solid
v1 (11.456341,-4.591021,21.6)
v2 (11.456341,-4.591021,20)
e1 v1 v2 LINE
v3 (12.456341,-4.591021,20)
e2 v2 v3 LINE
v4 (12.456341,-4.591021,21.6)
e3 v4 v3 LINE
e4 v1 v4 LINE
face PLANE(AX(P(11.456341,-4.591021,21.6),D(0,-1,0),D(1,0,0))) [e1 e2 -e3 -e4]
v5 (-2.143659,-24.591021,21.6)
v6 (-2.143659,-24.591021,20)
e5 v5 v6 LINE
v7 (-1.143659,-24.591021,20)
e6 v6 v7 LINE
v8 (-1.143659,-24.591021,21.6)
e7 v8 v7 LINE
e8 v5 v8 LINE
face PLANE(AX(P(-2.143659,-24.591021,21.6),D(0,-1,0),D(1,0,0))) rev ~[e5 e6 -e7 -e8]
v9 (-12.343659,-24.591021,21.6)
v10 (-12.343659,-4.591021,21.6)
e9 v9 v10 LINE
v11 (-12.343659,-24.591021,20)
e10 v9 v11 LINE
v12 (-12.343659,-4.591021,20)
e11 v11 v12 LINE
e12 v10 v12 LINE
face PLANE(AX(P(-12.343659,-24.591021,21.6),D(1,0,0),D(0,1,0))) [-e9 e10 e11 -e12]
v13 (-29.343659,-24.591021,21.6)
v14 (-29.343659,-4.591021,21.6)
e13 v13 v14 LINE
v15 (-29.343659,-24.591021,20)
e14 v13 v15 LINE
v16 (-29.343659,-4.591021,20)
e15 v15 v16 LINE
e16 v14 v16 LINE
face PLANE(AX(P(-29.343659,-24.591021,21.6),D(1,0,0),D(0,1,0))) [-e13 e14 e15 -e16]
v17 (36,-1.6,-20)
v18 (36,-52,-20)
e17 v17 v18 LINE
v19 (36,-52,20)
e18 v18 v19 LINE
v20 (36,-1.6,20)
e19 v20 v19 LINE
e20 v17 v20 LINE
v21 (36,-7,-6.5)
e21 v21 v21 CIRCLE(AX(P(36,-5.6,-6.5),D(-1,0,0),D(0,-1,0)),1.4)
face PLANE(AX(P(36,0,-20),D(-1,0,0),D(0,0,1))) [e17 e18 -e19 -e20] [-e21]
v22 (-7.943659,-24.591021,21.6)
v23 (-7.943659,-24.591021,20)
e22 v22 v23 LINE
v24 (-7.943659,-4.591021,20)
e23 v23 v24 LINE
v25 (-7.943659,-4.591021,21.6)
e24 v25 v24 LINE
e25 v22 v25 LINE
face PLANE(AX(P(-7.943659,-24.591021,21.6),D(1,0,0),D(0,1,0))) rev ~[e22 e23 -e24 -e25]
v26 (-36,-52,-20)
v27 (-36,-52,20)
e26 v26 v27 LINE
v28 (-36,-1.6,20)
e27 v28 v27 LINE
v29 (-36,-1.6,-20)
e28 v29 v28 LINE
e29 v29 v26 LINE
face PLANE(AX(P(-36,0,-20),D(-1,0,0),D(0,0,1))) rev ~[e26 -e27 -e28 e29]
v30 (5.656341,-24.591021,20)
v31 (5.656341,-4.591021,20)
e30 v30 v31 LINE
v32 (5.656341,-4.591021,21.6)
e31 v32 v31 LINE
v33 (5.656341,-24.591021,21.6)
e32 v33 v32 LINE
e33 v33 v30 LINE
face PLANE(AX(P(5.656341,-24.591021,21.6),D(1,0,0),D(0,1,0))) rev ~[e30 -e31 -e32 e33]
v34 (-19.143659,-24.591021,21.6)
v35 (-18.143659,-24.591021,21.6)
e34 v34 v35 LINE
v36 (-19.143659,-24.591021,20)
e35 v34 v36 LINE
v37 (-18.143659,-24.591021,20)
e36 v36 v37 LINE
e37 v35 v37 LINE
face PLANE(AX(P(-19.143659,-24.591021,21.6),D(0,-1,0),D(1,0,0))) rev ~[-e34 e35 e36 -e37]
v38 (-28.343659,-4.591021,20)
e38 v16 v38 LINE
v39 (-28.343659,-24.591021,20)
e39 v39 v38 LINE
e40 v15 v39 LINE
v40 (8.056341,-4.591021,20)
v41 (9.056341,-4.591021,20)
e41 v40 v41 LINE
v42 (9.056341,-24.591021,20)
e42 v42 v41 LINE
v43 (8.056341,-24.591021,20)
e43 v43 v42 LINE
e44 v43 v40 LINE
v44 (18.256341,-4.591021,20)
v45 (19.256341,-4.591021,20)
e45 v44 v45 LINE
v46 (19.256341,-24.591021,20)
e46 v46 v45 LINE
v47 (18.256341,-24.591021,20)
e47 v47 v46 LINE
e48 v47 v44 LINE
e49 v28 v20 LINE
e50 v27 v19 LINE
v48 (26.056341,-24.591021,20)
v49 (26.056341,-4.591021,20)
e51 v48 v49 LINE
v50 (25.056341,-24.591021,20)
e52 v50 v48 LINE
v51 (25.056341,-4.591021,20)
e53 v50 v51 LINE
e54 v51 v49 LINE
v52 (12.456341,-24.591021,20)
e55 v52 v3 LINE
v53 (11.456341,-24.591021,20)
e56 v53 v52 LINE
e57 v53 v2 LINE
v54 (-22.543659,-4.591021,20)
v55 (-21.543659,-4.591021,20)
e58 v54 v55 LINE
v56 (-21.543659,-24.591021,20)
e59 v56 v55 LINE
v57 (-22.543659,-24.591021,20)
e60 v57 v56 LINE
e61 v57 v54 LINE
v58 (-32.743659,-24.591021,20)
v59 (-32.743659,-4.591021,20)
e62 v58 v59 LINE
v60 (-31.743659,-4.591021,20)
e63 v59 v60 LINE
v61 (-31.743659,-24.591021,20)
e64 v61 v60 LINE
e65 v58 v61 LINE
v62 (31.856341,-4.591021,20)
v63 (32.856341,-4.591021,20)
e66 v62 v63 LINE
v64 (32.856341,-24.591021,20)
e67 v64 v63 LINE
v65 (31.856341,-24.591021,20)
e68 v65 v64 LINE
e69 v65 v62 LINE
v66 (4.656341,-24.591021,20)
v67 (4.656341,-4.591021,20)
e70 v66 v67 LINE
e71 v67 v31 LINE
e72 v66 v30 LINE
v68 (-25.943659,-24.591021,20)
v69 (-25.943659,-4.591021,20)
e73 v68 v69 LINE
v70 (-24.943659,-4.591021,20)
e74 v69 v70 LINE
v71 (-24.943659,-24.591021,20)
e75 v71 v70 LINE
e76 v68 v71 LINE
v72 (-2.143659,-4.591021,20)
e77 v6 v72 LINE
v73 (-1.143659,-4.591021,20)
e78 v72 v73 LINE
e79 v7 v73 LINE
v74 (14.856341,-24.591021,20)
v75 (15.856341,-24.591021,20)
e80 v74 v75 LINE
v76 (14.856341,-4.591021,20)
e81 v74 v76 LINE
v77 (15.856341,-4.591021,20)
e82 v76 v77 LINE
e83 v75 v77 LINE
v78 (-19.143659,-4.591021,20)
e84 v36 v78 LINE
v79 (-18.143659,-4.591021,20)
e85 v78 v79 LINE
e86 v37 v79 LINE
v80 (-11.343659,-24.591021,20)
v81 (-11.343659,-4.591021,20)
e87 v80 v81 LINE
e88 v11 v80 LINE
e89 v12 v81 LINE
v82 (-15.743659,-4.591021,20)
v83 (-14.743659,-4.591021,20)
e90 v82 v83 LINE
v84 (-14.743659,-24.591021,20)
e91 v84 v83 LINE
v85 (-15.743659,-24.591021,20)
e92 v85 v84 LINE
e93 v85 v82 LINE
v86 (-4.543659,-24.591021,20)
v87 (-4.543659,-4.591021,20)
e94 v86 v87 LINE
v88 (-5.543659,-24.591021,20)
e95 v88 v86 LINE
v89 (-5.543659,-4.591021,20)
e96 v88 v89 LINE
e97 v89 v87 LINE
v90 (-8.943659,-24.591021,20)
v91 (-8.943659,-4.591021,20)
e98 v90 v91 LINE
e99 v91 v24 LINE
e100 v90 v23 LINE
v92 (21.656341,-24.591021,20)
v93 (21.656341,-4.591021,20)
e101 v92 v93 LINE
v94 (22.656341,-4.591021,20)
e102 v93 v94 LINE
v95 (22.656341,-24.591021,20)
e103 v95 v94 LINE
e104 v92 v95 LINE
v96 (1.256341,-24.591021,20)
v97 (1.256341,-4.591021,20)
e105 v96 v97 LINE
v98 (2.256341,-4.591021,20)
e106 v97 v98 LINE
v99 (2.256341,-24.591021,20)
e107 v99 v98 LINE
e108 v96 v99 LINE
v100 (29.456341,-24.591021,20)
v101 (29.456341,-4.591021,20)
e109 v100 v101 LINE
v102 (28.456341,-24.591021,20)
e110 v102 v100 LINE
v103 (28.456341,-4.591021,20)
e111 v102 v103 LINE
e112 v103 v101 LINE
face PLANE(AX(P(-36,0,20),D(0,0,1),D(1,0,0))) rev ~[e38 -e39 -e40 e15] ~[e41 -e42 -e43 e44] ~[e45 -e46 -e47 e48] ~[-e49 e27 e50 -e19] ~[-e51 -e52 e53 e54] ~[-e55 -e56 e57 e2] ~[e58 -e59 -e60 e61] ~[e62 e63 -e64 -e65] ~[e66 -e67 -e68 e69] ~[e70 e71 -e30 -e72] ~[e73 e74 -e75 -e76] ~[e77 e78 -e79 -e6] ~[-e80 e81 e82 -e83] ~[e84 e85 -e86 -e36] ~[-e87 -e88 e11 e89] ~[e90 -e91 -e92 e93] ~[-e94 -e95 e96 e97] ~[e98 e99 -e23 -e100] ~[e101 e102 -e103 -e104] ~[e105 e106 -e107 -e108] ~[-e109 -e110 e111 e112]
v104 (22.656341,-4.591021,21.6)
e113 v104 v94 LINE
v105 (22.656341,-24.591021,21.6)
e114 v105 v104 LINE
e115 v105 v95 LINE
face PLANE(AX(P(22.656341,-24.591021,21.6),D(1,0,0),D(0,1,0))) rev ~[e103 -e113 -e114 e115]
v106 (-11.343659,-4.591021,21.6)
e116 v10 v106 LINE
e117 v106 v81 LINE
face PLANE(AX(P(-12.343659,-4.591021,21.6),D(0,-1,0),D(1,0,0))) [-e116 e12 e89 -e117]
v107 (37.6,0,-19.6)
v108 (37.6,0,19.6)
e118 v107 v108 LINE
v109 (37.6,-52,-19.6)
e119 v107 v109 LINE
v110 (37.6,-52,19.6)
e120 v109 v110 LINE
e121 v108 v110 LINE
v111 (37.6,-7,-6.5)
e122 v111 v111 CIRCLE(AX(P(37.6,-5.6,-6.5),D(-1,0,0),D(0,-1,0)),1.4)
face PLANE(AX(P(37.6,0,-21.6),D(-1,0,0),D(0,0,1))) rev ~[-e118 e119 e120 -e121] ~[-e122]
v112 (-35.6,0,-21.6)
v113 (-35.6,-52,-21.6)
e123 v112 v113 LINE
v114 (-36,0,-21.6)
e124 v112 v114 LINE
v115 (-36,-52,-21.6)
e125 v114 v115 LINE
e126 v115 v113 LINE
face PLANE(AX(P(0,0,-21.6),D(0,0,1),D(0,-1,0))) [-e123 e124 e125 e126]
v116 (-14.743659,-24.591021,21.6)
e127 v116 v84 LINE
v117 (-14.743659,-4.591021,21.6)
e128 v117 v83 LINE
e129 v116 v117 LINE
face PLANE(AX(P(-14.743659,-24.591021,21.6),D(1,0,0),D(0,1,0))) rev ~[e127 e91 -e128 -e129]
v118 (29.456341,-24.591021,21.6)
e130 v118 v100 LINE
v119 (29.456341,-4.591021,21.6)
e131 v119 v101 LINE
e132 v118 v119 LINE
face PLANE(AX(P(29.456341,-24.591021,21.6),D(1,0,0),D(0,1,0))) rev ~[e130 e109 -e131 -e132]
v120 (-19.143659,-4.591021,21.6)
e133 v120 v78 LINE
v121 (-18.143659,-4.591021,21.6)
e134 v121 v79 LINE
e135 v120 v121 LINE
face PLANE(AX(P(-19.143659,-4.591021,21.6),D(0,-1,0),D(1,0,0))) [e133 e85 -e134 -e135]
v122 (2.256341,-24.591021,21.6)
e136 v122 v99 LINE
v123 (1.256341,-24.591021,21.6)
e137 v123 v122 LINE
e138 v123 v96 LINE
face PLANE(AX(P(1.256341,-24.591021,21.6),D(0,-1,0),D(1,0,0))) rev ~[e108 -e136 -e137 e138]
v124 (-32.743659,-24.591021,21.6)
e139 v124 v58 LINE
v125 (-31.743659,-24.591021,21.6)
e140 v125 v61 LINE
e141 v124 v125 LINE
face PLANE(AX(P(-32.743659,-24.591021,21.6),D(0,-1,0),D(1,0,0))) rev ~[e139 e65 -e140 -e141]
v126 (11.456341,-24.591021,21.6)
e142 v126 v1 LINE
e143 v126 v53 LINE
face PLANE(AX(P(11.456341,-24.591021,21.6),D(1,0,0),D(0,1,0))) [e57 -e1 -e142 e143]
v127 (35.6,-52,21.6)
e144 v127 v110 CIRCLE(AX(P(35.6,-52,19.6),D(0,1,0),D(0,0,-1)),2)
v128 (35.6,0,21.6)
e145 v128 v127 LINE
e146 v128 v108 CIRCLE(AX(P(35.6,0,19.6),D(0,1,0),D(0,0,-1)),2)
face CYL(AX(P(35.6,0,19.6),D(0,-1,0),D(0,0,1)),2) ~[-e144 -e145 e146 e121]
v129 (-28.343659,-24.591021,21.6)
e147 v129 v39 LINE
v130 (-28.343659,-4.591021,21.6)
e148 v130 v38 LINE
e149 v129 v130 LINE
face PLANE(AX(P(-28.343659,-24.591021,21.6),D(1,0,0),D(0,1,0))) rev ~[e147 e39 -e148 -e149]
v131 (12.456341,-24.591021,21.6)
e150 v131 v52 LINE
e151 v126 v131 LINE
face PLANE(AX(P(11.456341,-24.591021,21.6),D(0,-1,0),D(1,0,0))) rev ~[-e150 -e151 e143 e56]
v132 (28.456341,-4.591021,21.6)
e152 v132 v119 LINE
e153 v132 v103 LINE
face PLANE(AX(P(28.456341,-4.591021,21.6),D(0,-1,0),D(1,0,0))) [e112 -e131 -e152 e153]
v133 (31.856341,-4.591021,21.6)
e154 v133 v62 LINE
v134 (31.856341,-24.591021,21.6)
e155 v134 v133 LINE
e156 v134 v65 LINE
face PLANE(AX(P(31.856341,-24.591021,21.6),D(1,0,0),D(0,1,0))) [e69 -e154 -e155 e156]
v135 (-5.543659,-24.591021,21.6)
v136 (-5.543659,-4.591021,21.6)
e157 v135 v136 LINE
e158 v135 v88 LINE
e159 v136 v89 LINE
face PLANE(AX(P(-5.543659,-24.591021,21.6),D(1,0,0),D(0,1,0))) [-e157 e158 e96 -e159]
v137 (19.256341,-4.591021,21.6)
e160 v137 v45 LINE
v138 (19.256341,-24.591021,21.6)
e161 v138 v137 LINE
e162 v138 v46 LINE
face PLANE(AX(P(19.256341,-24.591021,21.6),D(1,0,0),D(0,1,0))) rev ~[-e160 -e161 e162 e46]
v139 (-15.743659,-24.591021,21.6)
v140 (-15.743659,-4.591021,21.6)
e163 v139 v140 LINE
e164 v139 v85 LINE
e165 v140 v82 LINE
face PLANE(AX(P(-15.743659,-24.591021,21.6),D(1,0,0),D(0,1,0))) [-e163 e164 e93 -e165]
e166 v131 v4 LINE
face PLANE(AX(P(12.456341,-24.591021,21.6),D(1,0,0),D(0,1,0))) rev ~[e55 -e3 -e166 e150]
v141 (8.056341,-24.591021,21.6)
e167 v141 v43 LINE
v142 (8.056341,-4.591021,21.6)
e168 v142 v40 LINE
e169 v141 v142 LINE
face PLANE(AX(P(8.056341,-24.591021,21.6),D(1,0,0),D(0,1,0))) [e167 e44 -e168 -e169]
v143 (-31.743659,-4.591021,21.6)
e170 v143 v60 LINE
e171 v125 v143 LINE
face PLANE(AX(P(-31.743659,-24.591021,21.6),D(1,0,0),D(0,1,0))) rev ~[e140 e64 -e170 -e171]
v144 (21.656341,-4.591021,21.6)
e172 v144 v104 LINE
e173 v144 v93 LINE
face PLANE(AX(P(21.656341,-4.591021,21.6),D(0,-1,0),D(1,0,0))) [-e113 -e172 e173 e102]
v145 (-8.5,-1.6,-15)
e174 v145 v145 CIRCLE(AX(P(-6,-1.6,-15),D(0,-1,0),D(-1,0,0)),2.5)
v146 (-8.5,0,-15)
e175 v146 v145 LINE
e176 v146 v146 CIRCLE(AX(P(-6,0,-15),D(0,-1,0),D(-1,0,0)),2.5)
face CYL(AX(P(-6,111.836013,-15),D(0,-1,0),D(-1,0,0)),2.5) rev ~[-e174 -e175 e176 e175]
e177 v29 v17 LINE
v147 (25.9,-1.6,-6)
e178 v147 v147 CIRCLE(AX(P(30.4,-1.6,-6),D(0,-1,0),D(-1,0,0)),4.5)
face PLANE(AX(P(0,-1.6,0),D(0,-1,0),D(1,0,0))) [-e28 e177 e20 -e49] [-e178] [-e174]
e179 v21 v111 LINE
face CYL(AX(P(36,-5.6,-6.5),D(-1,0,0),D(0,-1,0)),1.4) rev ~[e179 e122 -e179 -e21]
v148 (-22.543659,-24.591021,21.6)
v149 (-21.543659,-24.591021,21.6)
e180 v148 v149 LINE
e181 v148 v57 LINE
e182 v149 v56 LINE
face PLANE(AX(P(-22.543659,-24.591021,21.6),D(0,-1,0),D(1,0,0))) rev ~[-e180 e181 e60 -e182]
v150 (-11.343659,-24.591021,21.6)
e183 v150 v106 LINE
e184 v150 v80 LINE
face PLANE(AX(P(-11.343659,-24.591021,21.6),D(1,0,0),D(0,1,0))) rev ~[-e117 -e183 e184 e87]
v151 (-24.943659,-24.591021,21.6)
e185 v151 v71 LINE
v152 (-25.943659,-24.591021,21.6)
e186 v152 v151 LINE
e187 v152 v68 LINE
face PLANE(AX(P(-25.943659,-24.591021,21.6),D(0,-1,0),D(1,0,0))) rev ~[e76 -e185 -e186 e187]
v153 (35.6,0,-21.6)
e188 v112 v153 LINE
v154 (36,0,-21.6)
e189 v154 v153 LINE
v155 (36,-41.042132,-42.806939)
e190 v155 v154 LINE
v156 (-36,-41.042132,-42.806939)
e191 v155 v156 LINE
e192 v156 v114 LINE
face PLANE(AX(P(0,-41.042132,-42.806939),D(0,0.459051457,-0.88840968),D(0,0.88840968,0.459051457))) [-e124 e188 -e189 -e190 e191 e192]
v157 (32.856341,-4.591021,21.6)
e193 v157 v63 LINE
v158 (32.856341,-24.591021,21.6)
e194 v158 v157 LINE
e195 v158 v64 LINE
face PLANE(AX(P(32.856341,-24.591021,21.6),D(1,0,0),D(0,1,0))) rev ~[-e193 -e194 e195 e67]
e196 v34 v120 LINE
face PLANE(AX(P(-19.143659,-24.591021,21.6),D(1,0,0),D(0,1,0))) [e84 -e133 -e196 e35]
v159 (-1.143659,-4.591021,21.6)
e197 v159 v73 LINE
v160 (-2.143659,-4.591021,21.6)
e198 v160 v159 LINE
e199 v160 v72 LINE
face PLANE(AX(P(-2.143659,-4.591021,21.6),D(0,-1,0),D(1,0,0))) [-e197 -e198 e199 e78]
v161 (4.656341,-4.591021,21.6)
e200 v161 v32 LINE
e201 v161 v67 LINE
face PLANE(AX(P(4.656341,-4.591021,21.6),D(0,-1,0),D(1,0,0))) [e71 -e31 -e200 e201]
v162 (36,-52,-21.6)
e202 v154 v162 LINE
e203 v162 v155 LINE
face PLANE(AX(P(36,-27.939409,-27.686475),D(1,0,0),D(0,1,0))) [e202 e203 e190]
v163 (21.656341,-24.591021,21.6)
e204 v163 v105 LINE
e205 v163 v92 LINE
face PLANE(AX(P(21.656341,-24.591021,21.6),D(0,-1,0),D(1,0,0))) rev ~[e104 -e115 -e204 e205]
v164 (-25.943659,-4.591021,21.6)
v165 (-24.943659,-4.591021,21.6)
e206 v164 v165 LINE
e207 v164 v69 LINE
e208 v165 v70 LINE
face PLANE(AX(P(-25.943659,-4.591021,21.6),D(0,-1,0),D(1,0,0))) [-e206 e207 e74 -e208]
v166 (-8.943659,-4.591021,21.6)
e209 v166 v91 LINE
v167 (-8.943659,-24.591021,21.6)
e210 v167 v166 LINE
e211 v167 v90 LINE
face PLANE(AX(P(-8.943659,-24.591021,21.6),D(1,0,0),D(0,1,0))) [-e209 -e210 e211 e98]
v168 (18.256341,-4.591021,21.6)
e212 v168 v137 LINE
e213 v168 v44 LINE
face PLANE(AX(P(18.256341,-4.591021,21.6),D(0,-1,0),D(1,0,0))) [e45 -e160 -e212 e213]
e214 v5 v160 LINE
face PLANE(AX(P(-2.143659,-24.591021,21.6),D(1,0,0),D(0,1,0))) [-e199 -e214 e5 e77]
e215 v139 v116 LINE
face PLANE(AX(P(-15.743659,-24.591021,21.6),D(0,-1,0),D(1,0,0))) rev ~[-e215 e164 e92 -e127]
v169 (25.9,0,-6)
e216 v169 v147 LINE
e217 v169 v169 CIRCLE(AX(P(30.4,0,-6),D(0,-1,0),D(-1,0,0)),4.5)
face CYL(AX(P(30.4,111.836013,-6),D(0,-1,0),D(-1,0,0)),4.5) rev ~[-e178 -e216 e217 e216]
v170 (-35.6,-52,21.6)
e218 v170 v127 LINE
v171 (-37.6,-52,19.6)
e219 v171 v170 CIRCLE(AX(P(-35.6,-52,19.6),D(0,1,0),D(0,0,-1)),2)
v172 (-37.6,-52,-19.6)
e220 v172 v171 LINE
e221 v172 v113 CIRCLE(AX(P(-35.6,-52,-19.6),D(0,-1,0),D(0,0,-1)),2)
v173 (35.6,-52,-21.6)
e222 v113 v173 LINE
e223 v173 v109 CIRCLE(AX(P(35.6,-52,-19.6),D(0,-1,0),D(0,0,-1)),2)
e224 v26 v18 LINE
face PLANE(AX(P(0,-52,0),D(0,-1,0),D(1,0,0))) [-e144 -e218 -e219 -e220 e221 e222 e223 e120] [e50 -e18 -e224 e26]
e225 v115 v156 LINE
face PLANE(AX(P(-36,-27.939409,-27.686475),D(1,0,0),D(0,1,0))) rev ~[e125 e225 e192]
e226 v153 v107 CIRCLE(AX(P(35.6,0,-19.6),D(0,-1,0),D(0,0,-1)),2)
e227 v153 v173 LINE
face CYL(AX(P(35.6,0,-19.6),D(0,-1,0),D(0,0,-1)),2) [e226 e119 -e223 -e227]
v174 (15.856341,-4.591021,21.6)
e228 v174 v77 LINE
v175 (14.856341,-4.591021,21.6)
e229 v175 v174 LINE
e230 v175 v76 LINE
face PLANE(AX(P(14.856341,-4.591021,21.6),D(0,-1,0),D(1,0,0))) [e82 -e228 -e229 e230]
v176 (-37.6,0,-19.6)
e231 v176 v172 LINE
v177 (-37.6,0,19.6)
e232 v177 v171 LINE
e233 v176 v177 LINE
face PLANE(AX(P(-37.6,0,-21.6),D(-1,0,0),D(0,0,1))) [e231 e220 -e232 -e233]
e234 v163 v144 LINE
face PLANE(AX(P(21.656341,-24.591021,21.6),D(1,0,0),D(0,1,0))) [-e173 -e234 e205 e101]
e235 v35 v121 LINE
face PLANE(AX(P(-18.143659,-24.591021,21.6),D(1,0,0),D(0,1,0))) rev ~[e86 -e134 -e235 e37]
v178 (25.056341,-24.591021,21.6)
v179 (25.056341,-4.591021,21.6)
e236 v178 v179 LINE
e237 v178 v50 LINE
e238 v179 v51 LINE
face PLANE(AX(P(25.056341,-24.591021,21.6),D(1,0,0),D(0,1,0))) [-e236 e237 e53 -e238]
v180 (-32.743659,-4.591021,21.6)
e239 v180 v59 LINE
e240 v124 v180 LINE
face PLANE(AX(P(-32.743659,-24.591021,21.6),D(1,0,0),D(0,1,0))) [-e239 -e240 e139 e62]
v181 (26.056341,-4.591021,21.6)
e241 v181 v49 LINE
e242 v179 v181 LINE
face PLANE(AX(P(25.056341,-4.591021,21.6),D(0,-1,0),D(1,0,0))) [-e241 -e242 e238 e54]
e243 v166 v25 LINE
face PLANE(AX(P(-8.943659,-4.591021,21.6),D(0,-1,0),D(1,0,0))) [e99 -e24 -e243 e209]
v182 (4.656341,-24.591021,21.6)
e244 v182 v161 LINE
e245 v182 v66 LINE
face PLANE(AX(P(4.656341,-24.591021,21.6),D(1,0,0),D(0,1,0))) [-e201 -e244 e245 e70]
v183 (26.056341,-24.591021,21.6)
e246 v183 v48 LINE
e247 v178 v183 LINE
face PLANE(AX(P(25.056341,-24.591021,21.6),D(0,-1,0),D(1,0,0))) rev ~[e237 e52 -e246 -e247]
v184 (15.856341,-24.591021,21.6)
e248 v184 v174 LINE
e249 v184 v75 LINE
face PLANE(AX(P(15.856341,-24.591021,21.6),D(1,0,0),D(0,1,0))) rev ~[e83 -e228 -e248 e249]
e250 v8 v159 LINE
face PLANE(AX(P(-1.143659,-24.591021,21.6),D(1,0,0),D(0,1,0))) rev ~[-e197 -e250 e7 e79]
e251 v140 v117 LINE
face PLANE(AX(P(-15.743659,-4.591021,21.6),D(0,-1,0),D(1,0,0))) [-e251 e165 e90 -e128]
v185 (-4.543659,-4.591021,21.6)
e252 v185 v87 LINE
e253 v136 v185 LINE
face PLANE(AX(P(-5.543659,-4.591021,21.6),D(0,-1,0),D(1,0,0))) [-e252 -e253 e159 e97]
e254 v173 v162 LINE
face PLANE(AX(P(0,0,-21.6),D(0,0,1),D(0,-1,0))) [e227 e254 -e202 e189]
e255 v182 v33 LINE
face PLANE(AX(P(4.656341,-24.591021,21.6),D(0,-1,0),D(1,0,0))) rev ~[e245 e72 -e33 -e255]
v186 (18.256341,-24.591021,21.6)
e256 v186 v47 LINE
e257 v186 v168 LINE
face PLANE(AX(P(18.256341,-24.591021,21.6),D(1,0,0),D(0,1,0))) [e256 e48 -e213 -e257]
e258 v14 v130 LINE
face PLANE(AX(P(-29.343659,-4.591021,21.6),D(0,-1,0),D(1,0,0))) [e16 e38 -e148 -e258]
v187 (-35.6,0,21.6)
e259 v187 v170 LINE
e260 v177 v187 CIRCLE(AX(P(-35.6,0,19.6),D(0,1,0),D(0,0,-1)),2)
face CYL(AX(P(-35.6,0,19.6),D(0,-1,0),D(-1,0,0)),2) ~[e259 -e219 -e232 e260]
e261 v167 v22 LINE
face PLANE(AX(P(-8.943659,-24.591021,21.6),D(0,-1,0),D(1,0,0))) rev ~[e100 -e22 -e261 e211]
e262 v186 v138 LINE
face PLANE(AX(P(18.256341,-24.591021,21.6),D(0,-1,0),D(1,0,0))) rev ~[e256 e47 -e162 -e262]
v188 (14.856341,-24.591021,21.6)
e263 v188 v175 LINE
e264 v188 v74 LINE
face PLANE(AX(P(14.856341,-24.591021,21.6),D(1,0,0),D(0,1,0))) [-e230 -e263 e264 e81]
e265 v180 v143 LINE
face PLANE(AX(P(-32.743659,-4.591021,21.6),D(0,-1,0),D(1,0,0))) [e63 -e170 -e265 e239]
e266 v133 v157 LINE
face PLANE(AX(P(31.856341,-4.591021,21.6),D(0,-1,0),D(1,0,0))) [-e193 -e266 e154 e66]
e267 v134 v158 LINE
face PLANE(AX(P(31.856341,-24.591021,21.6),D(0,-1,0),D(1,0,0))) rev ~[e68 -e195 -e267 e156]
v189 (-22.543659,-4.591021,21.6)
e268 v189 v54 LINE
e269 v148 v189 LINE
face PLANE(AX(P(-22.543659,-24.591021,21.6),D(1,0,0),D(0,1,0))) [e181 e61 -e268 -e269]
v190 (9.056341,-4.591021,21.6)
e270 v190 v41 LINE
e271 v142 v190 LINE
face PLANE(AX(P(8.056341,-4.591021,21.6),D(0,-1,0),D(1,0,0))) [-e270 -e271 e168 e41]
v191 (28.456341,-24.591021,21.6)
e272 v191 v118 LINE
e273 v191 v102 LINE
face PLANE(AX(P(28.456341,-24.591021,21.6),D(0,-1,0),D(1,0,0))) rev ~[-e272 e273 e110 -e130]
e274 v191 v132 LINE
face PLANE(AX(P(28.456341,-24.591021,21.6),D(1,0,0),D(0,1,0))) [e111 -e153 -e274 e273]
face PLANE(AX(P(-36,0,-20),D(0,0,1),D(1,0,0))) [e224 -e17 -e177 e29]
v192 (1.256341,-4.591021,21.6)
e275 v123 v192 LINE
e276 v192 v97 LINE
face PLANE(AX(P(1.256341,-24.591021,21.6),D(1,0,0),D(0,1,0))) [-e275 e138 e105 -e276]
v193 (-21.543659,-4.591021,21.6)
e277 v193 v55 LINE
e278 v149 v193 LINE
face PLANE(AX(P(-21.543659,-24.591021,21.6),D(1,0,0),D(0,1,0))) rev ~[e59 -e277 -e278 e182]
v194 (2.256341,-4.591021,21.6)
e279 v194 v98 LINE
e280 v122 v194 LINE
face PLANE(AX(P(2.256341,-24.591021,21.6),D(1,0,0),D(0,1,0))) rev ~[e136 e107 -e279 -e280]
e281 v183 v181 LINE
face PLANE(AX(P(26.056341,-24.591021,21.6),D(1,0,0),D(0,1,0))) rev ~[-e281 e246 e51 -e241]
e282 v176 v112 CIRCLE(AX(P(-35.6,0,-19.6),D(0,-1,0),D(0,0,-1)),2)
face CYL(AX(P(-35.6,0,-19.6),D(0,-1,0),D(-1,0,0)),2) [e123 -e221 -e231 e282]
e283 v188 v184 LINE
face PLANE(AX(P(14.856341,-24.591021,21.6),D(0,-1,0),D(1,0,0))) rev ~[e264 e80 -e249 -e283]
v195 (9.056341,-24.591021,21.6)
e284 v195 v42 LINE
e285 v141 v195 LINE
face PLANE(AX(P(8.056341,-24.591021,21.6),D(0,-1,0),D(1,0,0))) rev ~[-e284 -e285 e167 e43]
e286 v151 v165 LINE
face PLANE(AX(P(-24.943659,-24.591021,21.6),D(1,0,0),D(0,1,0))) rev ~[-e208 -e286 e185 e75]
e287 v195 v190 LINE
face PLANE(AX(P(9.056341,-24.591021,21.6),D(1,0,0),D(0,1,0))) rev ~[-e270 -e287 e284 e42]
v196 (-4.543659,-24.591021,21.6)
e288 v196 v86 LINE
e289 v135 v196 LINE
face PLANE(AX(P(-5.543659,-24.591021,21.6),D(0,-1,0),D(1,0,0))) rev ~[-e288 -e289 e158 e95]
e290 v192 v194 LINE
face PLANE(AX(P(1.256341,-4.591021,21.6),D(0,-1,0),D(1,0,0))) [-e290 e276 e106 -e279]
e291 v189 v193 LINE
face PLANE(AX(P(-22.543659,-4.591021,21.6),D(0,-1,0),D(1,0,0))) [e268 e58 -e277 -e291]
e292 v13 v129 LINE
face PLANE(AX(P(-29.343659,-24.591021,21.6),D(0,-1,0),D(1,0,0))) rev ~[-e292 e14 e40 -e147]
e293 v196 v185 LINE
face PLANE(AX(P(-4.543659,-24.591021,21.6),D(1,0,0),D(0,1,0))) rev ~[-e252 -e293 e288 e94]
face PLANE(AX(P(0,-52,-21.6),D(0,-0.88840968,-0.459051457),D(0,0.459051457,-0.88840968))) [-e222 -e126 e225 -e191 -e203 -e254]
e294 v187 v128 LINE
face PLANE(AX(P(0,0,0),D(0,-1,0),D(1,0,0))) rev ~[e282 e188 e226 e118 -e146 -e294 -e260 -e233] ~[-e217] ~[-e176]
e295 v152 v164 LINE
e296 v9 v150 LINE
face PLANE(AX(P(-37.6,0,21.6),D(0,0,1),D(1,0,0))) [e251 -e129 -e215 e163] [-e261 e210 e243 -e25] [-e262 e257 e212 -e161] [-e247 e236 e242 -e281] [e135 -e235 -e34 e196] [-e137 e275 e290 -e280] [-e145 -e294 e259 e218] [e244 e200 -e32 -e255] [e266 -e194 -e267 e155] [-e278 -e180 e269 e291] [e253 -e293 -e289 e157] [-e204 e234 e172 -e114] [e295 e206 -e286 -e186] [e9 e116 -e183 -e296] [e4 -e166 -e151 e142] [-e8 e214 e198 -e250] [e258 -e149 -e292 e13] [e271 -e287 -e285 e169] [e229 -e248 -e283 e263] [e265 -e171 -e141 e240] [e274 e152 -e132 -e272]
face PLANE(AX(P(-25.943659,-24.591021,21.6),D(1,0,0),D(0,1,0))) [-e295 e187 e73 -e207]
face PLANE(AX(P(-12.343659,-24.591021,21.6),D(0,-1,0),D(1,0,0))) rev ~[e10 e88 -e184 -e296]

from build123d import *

# Parameters (mm, degrees)
F0_W      = 75.2
F0_H      = 43.2
F0_W_2    = 72
F0_H_2    = 40
F1_DEPTH  = 52
F2_R      = 2
F3_DEPTH  = 1.6
F5_DEPTH  = 36
F6_D      = 9
F8_D      = 2.8
F8_DEPTH  = 1.601
F9_D      = 5
F10_W     = 1
F10_H     = 20
F11_DEPTH = 25


with BuildPart() as f1:
    # F0 (on Front) → F1 (new body)
    with BuildSketch(Plane.XZ):
        Rectangle(F0_W, F0_H)
        Rectangle(F0_W_2, F0_H_2, mode=Mode.SUBTRACT)
    extrude(amount=F1_DEPTH)

    # F2
    f2_edges = [f1.edges().sort_by_distance(p)[0] for p in [
        (37.6, -26, 21.6),
        (-37.6, -26, 21.6),
        (-37.6, -26, -21.6),
        (37.6, -26, -21.6),
    ]]
    fillet(f2_edges, radius=F2_R)

    # F0 (on Front) → F3 (join)
    with BuildSketch(Plane.XZ):
        Rectangle(F0_W_2, F0_H_2)
    extrude(amount=F3_DEPTH)

    # F4 (on Right) → F5 (join, symmetric)
    with BuildSketch(Plane.YZ):
        Polygon((0, -21.6), (-52, -21.6), (-41.0421315348, -42.8069394041), align=None)
    extrude(amount=F5_DEPTH, both=True)

    # F6 (through all)
    with Locations(Plane(origin=(0, 0, 0), x_dir=(1, 0, 0), z_dir=(0, 1, 0))):
        with Locations((30.4, 6)):
            Hole(F6_D / 2)

    # F8 (through all, one way)
    with BuildSketch(Plane(origin=(36, 0, 0), x_dir=(0, -1, 0), z_dir=(-1, 0, 0))):
        with Locations((5.6, -6.5)):
            Circle(F8_D / 2)
    extrude(amount=-F8_DEPTH, mode=Mode.SUBTRACT)

    # F9 (through all)
    with Locations(Plane(origin=(0, 0, 0), x_dir=(1, 0, 0), z_dir=(0, 1, 0))):
        with Locations((-6, 15)):
            Hole(F9_D / 2)

    # F10 (on face) → F11 (cut)
    with BuildSketch(Plane.XY.offset(21.6)):
        with Locations((-32.2436588705, -14.5910207555)):
            Rectangle(F10_W, F10_H)
        with Locations((-28.8436588705, -14.5910207555)):
            Rectangle(F10_W, F10_H)
        with Locations((-25.4436588705, -14.5910207555)):
            Rectangle(F10_W, F10_H)
        with Locations((-22.0436588705, -14.5910207555)):
            Rectangle(F10_W, F10_H)
        with Locations((-18.6436588705, -14.5910207555)):
            Rectangle(F10_W, F10_H)
        with Locations((-15.2436588705, -14.5910207555)):
            Rectangle(F10_W, F10_H)
        with Locations((-11.8436588705, -14.5910207555)):
            Rectangle(F10_W, F10_H)
        with Locations((-8.4436588705, -14.5910207555)):
            Rectangle(F10_W, F10_H)
        with Locations((-5.0436588705, -14.5910207555)):
            Rectangle(F10_W, F10_H)
        with Locations((1.7563411295, -14.5910207555)):
            Rectangle(F10_W, F10_H)
        with Locations((5.1563411295, -14.5910207555)):
            Rectangle(F10_W, F10_H)
        with Locations((-1.6436588705, -14.5910207555)):
            Rectangle(F10_W, F10_H)
        with Locations((8.5563411295, -14.5910207555)):
            Rectangle(F10_W, F10_H)
        with Locations((11.9563411295, -14.5910207555)):
            Rectangle(F10_W, F10_H)
        with Locations((15.3563411295, -14.5910207555)):
            Rectangle(F10_W, F10_H)
        with Locations((18.7563411295, -14.5910207555)):
            Rectangle(F10_W, F10_H)
        with Locations((22.1563411295, -14.5910207555)):
            Rectangle(F10_W, F10_H)
        with Locations((25.5563411295, -14.5910207555)):
            Rectangle(F10_W, F10_H)
        with Locations((28.9563411295, -14.5910207555)):
            Rectangle(F10_W, F10_H)
        with Locations((32.3563411295, -14.5910207555)):
            Rectangle(F10_W, F10_H)
    extrude(amount=-F11_DEPTH, mode=Mode.SUBTRACT)


solid = f1.part
